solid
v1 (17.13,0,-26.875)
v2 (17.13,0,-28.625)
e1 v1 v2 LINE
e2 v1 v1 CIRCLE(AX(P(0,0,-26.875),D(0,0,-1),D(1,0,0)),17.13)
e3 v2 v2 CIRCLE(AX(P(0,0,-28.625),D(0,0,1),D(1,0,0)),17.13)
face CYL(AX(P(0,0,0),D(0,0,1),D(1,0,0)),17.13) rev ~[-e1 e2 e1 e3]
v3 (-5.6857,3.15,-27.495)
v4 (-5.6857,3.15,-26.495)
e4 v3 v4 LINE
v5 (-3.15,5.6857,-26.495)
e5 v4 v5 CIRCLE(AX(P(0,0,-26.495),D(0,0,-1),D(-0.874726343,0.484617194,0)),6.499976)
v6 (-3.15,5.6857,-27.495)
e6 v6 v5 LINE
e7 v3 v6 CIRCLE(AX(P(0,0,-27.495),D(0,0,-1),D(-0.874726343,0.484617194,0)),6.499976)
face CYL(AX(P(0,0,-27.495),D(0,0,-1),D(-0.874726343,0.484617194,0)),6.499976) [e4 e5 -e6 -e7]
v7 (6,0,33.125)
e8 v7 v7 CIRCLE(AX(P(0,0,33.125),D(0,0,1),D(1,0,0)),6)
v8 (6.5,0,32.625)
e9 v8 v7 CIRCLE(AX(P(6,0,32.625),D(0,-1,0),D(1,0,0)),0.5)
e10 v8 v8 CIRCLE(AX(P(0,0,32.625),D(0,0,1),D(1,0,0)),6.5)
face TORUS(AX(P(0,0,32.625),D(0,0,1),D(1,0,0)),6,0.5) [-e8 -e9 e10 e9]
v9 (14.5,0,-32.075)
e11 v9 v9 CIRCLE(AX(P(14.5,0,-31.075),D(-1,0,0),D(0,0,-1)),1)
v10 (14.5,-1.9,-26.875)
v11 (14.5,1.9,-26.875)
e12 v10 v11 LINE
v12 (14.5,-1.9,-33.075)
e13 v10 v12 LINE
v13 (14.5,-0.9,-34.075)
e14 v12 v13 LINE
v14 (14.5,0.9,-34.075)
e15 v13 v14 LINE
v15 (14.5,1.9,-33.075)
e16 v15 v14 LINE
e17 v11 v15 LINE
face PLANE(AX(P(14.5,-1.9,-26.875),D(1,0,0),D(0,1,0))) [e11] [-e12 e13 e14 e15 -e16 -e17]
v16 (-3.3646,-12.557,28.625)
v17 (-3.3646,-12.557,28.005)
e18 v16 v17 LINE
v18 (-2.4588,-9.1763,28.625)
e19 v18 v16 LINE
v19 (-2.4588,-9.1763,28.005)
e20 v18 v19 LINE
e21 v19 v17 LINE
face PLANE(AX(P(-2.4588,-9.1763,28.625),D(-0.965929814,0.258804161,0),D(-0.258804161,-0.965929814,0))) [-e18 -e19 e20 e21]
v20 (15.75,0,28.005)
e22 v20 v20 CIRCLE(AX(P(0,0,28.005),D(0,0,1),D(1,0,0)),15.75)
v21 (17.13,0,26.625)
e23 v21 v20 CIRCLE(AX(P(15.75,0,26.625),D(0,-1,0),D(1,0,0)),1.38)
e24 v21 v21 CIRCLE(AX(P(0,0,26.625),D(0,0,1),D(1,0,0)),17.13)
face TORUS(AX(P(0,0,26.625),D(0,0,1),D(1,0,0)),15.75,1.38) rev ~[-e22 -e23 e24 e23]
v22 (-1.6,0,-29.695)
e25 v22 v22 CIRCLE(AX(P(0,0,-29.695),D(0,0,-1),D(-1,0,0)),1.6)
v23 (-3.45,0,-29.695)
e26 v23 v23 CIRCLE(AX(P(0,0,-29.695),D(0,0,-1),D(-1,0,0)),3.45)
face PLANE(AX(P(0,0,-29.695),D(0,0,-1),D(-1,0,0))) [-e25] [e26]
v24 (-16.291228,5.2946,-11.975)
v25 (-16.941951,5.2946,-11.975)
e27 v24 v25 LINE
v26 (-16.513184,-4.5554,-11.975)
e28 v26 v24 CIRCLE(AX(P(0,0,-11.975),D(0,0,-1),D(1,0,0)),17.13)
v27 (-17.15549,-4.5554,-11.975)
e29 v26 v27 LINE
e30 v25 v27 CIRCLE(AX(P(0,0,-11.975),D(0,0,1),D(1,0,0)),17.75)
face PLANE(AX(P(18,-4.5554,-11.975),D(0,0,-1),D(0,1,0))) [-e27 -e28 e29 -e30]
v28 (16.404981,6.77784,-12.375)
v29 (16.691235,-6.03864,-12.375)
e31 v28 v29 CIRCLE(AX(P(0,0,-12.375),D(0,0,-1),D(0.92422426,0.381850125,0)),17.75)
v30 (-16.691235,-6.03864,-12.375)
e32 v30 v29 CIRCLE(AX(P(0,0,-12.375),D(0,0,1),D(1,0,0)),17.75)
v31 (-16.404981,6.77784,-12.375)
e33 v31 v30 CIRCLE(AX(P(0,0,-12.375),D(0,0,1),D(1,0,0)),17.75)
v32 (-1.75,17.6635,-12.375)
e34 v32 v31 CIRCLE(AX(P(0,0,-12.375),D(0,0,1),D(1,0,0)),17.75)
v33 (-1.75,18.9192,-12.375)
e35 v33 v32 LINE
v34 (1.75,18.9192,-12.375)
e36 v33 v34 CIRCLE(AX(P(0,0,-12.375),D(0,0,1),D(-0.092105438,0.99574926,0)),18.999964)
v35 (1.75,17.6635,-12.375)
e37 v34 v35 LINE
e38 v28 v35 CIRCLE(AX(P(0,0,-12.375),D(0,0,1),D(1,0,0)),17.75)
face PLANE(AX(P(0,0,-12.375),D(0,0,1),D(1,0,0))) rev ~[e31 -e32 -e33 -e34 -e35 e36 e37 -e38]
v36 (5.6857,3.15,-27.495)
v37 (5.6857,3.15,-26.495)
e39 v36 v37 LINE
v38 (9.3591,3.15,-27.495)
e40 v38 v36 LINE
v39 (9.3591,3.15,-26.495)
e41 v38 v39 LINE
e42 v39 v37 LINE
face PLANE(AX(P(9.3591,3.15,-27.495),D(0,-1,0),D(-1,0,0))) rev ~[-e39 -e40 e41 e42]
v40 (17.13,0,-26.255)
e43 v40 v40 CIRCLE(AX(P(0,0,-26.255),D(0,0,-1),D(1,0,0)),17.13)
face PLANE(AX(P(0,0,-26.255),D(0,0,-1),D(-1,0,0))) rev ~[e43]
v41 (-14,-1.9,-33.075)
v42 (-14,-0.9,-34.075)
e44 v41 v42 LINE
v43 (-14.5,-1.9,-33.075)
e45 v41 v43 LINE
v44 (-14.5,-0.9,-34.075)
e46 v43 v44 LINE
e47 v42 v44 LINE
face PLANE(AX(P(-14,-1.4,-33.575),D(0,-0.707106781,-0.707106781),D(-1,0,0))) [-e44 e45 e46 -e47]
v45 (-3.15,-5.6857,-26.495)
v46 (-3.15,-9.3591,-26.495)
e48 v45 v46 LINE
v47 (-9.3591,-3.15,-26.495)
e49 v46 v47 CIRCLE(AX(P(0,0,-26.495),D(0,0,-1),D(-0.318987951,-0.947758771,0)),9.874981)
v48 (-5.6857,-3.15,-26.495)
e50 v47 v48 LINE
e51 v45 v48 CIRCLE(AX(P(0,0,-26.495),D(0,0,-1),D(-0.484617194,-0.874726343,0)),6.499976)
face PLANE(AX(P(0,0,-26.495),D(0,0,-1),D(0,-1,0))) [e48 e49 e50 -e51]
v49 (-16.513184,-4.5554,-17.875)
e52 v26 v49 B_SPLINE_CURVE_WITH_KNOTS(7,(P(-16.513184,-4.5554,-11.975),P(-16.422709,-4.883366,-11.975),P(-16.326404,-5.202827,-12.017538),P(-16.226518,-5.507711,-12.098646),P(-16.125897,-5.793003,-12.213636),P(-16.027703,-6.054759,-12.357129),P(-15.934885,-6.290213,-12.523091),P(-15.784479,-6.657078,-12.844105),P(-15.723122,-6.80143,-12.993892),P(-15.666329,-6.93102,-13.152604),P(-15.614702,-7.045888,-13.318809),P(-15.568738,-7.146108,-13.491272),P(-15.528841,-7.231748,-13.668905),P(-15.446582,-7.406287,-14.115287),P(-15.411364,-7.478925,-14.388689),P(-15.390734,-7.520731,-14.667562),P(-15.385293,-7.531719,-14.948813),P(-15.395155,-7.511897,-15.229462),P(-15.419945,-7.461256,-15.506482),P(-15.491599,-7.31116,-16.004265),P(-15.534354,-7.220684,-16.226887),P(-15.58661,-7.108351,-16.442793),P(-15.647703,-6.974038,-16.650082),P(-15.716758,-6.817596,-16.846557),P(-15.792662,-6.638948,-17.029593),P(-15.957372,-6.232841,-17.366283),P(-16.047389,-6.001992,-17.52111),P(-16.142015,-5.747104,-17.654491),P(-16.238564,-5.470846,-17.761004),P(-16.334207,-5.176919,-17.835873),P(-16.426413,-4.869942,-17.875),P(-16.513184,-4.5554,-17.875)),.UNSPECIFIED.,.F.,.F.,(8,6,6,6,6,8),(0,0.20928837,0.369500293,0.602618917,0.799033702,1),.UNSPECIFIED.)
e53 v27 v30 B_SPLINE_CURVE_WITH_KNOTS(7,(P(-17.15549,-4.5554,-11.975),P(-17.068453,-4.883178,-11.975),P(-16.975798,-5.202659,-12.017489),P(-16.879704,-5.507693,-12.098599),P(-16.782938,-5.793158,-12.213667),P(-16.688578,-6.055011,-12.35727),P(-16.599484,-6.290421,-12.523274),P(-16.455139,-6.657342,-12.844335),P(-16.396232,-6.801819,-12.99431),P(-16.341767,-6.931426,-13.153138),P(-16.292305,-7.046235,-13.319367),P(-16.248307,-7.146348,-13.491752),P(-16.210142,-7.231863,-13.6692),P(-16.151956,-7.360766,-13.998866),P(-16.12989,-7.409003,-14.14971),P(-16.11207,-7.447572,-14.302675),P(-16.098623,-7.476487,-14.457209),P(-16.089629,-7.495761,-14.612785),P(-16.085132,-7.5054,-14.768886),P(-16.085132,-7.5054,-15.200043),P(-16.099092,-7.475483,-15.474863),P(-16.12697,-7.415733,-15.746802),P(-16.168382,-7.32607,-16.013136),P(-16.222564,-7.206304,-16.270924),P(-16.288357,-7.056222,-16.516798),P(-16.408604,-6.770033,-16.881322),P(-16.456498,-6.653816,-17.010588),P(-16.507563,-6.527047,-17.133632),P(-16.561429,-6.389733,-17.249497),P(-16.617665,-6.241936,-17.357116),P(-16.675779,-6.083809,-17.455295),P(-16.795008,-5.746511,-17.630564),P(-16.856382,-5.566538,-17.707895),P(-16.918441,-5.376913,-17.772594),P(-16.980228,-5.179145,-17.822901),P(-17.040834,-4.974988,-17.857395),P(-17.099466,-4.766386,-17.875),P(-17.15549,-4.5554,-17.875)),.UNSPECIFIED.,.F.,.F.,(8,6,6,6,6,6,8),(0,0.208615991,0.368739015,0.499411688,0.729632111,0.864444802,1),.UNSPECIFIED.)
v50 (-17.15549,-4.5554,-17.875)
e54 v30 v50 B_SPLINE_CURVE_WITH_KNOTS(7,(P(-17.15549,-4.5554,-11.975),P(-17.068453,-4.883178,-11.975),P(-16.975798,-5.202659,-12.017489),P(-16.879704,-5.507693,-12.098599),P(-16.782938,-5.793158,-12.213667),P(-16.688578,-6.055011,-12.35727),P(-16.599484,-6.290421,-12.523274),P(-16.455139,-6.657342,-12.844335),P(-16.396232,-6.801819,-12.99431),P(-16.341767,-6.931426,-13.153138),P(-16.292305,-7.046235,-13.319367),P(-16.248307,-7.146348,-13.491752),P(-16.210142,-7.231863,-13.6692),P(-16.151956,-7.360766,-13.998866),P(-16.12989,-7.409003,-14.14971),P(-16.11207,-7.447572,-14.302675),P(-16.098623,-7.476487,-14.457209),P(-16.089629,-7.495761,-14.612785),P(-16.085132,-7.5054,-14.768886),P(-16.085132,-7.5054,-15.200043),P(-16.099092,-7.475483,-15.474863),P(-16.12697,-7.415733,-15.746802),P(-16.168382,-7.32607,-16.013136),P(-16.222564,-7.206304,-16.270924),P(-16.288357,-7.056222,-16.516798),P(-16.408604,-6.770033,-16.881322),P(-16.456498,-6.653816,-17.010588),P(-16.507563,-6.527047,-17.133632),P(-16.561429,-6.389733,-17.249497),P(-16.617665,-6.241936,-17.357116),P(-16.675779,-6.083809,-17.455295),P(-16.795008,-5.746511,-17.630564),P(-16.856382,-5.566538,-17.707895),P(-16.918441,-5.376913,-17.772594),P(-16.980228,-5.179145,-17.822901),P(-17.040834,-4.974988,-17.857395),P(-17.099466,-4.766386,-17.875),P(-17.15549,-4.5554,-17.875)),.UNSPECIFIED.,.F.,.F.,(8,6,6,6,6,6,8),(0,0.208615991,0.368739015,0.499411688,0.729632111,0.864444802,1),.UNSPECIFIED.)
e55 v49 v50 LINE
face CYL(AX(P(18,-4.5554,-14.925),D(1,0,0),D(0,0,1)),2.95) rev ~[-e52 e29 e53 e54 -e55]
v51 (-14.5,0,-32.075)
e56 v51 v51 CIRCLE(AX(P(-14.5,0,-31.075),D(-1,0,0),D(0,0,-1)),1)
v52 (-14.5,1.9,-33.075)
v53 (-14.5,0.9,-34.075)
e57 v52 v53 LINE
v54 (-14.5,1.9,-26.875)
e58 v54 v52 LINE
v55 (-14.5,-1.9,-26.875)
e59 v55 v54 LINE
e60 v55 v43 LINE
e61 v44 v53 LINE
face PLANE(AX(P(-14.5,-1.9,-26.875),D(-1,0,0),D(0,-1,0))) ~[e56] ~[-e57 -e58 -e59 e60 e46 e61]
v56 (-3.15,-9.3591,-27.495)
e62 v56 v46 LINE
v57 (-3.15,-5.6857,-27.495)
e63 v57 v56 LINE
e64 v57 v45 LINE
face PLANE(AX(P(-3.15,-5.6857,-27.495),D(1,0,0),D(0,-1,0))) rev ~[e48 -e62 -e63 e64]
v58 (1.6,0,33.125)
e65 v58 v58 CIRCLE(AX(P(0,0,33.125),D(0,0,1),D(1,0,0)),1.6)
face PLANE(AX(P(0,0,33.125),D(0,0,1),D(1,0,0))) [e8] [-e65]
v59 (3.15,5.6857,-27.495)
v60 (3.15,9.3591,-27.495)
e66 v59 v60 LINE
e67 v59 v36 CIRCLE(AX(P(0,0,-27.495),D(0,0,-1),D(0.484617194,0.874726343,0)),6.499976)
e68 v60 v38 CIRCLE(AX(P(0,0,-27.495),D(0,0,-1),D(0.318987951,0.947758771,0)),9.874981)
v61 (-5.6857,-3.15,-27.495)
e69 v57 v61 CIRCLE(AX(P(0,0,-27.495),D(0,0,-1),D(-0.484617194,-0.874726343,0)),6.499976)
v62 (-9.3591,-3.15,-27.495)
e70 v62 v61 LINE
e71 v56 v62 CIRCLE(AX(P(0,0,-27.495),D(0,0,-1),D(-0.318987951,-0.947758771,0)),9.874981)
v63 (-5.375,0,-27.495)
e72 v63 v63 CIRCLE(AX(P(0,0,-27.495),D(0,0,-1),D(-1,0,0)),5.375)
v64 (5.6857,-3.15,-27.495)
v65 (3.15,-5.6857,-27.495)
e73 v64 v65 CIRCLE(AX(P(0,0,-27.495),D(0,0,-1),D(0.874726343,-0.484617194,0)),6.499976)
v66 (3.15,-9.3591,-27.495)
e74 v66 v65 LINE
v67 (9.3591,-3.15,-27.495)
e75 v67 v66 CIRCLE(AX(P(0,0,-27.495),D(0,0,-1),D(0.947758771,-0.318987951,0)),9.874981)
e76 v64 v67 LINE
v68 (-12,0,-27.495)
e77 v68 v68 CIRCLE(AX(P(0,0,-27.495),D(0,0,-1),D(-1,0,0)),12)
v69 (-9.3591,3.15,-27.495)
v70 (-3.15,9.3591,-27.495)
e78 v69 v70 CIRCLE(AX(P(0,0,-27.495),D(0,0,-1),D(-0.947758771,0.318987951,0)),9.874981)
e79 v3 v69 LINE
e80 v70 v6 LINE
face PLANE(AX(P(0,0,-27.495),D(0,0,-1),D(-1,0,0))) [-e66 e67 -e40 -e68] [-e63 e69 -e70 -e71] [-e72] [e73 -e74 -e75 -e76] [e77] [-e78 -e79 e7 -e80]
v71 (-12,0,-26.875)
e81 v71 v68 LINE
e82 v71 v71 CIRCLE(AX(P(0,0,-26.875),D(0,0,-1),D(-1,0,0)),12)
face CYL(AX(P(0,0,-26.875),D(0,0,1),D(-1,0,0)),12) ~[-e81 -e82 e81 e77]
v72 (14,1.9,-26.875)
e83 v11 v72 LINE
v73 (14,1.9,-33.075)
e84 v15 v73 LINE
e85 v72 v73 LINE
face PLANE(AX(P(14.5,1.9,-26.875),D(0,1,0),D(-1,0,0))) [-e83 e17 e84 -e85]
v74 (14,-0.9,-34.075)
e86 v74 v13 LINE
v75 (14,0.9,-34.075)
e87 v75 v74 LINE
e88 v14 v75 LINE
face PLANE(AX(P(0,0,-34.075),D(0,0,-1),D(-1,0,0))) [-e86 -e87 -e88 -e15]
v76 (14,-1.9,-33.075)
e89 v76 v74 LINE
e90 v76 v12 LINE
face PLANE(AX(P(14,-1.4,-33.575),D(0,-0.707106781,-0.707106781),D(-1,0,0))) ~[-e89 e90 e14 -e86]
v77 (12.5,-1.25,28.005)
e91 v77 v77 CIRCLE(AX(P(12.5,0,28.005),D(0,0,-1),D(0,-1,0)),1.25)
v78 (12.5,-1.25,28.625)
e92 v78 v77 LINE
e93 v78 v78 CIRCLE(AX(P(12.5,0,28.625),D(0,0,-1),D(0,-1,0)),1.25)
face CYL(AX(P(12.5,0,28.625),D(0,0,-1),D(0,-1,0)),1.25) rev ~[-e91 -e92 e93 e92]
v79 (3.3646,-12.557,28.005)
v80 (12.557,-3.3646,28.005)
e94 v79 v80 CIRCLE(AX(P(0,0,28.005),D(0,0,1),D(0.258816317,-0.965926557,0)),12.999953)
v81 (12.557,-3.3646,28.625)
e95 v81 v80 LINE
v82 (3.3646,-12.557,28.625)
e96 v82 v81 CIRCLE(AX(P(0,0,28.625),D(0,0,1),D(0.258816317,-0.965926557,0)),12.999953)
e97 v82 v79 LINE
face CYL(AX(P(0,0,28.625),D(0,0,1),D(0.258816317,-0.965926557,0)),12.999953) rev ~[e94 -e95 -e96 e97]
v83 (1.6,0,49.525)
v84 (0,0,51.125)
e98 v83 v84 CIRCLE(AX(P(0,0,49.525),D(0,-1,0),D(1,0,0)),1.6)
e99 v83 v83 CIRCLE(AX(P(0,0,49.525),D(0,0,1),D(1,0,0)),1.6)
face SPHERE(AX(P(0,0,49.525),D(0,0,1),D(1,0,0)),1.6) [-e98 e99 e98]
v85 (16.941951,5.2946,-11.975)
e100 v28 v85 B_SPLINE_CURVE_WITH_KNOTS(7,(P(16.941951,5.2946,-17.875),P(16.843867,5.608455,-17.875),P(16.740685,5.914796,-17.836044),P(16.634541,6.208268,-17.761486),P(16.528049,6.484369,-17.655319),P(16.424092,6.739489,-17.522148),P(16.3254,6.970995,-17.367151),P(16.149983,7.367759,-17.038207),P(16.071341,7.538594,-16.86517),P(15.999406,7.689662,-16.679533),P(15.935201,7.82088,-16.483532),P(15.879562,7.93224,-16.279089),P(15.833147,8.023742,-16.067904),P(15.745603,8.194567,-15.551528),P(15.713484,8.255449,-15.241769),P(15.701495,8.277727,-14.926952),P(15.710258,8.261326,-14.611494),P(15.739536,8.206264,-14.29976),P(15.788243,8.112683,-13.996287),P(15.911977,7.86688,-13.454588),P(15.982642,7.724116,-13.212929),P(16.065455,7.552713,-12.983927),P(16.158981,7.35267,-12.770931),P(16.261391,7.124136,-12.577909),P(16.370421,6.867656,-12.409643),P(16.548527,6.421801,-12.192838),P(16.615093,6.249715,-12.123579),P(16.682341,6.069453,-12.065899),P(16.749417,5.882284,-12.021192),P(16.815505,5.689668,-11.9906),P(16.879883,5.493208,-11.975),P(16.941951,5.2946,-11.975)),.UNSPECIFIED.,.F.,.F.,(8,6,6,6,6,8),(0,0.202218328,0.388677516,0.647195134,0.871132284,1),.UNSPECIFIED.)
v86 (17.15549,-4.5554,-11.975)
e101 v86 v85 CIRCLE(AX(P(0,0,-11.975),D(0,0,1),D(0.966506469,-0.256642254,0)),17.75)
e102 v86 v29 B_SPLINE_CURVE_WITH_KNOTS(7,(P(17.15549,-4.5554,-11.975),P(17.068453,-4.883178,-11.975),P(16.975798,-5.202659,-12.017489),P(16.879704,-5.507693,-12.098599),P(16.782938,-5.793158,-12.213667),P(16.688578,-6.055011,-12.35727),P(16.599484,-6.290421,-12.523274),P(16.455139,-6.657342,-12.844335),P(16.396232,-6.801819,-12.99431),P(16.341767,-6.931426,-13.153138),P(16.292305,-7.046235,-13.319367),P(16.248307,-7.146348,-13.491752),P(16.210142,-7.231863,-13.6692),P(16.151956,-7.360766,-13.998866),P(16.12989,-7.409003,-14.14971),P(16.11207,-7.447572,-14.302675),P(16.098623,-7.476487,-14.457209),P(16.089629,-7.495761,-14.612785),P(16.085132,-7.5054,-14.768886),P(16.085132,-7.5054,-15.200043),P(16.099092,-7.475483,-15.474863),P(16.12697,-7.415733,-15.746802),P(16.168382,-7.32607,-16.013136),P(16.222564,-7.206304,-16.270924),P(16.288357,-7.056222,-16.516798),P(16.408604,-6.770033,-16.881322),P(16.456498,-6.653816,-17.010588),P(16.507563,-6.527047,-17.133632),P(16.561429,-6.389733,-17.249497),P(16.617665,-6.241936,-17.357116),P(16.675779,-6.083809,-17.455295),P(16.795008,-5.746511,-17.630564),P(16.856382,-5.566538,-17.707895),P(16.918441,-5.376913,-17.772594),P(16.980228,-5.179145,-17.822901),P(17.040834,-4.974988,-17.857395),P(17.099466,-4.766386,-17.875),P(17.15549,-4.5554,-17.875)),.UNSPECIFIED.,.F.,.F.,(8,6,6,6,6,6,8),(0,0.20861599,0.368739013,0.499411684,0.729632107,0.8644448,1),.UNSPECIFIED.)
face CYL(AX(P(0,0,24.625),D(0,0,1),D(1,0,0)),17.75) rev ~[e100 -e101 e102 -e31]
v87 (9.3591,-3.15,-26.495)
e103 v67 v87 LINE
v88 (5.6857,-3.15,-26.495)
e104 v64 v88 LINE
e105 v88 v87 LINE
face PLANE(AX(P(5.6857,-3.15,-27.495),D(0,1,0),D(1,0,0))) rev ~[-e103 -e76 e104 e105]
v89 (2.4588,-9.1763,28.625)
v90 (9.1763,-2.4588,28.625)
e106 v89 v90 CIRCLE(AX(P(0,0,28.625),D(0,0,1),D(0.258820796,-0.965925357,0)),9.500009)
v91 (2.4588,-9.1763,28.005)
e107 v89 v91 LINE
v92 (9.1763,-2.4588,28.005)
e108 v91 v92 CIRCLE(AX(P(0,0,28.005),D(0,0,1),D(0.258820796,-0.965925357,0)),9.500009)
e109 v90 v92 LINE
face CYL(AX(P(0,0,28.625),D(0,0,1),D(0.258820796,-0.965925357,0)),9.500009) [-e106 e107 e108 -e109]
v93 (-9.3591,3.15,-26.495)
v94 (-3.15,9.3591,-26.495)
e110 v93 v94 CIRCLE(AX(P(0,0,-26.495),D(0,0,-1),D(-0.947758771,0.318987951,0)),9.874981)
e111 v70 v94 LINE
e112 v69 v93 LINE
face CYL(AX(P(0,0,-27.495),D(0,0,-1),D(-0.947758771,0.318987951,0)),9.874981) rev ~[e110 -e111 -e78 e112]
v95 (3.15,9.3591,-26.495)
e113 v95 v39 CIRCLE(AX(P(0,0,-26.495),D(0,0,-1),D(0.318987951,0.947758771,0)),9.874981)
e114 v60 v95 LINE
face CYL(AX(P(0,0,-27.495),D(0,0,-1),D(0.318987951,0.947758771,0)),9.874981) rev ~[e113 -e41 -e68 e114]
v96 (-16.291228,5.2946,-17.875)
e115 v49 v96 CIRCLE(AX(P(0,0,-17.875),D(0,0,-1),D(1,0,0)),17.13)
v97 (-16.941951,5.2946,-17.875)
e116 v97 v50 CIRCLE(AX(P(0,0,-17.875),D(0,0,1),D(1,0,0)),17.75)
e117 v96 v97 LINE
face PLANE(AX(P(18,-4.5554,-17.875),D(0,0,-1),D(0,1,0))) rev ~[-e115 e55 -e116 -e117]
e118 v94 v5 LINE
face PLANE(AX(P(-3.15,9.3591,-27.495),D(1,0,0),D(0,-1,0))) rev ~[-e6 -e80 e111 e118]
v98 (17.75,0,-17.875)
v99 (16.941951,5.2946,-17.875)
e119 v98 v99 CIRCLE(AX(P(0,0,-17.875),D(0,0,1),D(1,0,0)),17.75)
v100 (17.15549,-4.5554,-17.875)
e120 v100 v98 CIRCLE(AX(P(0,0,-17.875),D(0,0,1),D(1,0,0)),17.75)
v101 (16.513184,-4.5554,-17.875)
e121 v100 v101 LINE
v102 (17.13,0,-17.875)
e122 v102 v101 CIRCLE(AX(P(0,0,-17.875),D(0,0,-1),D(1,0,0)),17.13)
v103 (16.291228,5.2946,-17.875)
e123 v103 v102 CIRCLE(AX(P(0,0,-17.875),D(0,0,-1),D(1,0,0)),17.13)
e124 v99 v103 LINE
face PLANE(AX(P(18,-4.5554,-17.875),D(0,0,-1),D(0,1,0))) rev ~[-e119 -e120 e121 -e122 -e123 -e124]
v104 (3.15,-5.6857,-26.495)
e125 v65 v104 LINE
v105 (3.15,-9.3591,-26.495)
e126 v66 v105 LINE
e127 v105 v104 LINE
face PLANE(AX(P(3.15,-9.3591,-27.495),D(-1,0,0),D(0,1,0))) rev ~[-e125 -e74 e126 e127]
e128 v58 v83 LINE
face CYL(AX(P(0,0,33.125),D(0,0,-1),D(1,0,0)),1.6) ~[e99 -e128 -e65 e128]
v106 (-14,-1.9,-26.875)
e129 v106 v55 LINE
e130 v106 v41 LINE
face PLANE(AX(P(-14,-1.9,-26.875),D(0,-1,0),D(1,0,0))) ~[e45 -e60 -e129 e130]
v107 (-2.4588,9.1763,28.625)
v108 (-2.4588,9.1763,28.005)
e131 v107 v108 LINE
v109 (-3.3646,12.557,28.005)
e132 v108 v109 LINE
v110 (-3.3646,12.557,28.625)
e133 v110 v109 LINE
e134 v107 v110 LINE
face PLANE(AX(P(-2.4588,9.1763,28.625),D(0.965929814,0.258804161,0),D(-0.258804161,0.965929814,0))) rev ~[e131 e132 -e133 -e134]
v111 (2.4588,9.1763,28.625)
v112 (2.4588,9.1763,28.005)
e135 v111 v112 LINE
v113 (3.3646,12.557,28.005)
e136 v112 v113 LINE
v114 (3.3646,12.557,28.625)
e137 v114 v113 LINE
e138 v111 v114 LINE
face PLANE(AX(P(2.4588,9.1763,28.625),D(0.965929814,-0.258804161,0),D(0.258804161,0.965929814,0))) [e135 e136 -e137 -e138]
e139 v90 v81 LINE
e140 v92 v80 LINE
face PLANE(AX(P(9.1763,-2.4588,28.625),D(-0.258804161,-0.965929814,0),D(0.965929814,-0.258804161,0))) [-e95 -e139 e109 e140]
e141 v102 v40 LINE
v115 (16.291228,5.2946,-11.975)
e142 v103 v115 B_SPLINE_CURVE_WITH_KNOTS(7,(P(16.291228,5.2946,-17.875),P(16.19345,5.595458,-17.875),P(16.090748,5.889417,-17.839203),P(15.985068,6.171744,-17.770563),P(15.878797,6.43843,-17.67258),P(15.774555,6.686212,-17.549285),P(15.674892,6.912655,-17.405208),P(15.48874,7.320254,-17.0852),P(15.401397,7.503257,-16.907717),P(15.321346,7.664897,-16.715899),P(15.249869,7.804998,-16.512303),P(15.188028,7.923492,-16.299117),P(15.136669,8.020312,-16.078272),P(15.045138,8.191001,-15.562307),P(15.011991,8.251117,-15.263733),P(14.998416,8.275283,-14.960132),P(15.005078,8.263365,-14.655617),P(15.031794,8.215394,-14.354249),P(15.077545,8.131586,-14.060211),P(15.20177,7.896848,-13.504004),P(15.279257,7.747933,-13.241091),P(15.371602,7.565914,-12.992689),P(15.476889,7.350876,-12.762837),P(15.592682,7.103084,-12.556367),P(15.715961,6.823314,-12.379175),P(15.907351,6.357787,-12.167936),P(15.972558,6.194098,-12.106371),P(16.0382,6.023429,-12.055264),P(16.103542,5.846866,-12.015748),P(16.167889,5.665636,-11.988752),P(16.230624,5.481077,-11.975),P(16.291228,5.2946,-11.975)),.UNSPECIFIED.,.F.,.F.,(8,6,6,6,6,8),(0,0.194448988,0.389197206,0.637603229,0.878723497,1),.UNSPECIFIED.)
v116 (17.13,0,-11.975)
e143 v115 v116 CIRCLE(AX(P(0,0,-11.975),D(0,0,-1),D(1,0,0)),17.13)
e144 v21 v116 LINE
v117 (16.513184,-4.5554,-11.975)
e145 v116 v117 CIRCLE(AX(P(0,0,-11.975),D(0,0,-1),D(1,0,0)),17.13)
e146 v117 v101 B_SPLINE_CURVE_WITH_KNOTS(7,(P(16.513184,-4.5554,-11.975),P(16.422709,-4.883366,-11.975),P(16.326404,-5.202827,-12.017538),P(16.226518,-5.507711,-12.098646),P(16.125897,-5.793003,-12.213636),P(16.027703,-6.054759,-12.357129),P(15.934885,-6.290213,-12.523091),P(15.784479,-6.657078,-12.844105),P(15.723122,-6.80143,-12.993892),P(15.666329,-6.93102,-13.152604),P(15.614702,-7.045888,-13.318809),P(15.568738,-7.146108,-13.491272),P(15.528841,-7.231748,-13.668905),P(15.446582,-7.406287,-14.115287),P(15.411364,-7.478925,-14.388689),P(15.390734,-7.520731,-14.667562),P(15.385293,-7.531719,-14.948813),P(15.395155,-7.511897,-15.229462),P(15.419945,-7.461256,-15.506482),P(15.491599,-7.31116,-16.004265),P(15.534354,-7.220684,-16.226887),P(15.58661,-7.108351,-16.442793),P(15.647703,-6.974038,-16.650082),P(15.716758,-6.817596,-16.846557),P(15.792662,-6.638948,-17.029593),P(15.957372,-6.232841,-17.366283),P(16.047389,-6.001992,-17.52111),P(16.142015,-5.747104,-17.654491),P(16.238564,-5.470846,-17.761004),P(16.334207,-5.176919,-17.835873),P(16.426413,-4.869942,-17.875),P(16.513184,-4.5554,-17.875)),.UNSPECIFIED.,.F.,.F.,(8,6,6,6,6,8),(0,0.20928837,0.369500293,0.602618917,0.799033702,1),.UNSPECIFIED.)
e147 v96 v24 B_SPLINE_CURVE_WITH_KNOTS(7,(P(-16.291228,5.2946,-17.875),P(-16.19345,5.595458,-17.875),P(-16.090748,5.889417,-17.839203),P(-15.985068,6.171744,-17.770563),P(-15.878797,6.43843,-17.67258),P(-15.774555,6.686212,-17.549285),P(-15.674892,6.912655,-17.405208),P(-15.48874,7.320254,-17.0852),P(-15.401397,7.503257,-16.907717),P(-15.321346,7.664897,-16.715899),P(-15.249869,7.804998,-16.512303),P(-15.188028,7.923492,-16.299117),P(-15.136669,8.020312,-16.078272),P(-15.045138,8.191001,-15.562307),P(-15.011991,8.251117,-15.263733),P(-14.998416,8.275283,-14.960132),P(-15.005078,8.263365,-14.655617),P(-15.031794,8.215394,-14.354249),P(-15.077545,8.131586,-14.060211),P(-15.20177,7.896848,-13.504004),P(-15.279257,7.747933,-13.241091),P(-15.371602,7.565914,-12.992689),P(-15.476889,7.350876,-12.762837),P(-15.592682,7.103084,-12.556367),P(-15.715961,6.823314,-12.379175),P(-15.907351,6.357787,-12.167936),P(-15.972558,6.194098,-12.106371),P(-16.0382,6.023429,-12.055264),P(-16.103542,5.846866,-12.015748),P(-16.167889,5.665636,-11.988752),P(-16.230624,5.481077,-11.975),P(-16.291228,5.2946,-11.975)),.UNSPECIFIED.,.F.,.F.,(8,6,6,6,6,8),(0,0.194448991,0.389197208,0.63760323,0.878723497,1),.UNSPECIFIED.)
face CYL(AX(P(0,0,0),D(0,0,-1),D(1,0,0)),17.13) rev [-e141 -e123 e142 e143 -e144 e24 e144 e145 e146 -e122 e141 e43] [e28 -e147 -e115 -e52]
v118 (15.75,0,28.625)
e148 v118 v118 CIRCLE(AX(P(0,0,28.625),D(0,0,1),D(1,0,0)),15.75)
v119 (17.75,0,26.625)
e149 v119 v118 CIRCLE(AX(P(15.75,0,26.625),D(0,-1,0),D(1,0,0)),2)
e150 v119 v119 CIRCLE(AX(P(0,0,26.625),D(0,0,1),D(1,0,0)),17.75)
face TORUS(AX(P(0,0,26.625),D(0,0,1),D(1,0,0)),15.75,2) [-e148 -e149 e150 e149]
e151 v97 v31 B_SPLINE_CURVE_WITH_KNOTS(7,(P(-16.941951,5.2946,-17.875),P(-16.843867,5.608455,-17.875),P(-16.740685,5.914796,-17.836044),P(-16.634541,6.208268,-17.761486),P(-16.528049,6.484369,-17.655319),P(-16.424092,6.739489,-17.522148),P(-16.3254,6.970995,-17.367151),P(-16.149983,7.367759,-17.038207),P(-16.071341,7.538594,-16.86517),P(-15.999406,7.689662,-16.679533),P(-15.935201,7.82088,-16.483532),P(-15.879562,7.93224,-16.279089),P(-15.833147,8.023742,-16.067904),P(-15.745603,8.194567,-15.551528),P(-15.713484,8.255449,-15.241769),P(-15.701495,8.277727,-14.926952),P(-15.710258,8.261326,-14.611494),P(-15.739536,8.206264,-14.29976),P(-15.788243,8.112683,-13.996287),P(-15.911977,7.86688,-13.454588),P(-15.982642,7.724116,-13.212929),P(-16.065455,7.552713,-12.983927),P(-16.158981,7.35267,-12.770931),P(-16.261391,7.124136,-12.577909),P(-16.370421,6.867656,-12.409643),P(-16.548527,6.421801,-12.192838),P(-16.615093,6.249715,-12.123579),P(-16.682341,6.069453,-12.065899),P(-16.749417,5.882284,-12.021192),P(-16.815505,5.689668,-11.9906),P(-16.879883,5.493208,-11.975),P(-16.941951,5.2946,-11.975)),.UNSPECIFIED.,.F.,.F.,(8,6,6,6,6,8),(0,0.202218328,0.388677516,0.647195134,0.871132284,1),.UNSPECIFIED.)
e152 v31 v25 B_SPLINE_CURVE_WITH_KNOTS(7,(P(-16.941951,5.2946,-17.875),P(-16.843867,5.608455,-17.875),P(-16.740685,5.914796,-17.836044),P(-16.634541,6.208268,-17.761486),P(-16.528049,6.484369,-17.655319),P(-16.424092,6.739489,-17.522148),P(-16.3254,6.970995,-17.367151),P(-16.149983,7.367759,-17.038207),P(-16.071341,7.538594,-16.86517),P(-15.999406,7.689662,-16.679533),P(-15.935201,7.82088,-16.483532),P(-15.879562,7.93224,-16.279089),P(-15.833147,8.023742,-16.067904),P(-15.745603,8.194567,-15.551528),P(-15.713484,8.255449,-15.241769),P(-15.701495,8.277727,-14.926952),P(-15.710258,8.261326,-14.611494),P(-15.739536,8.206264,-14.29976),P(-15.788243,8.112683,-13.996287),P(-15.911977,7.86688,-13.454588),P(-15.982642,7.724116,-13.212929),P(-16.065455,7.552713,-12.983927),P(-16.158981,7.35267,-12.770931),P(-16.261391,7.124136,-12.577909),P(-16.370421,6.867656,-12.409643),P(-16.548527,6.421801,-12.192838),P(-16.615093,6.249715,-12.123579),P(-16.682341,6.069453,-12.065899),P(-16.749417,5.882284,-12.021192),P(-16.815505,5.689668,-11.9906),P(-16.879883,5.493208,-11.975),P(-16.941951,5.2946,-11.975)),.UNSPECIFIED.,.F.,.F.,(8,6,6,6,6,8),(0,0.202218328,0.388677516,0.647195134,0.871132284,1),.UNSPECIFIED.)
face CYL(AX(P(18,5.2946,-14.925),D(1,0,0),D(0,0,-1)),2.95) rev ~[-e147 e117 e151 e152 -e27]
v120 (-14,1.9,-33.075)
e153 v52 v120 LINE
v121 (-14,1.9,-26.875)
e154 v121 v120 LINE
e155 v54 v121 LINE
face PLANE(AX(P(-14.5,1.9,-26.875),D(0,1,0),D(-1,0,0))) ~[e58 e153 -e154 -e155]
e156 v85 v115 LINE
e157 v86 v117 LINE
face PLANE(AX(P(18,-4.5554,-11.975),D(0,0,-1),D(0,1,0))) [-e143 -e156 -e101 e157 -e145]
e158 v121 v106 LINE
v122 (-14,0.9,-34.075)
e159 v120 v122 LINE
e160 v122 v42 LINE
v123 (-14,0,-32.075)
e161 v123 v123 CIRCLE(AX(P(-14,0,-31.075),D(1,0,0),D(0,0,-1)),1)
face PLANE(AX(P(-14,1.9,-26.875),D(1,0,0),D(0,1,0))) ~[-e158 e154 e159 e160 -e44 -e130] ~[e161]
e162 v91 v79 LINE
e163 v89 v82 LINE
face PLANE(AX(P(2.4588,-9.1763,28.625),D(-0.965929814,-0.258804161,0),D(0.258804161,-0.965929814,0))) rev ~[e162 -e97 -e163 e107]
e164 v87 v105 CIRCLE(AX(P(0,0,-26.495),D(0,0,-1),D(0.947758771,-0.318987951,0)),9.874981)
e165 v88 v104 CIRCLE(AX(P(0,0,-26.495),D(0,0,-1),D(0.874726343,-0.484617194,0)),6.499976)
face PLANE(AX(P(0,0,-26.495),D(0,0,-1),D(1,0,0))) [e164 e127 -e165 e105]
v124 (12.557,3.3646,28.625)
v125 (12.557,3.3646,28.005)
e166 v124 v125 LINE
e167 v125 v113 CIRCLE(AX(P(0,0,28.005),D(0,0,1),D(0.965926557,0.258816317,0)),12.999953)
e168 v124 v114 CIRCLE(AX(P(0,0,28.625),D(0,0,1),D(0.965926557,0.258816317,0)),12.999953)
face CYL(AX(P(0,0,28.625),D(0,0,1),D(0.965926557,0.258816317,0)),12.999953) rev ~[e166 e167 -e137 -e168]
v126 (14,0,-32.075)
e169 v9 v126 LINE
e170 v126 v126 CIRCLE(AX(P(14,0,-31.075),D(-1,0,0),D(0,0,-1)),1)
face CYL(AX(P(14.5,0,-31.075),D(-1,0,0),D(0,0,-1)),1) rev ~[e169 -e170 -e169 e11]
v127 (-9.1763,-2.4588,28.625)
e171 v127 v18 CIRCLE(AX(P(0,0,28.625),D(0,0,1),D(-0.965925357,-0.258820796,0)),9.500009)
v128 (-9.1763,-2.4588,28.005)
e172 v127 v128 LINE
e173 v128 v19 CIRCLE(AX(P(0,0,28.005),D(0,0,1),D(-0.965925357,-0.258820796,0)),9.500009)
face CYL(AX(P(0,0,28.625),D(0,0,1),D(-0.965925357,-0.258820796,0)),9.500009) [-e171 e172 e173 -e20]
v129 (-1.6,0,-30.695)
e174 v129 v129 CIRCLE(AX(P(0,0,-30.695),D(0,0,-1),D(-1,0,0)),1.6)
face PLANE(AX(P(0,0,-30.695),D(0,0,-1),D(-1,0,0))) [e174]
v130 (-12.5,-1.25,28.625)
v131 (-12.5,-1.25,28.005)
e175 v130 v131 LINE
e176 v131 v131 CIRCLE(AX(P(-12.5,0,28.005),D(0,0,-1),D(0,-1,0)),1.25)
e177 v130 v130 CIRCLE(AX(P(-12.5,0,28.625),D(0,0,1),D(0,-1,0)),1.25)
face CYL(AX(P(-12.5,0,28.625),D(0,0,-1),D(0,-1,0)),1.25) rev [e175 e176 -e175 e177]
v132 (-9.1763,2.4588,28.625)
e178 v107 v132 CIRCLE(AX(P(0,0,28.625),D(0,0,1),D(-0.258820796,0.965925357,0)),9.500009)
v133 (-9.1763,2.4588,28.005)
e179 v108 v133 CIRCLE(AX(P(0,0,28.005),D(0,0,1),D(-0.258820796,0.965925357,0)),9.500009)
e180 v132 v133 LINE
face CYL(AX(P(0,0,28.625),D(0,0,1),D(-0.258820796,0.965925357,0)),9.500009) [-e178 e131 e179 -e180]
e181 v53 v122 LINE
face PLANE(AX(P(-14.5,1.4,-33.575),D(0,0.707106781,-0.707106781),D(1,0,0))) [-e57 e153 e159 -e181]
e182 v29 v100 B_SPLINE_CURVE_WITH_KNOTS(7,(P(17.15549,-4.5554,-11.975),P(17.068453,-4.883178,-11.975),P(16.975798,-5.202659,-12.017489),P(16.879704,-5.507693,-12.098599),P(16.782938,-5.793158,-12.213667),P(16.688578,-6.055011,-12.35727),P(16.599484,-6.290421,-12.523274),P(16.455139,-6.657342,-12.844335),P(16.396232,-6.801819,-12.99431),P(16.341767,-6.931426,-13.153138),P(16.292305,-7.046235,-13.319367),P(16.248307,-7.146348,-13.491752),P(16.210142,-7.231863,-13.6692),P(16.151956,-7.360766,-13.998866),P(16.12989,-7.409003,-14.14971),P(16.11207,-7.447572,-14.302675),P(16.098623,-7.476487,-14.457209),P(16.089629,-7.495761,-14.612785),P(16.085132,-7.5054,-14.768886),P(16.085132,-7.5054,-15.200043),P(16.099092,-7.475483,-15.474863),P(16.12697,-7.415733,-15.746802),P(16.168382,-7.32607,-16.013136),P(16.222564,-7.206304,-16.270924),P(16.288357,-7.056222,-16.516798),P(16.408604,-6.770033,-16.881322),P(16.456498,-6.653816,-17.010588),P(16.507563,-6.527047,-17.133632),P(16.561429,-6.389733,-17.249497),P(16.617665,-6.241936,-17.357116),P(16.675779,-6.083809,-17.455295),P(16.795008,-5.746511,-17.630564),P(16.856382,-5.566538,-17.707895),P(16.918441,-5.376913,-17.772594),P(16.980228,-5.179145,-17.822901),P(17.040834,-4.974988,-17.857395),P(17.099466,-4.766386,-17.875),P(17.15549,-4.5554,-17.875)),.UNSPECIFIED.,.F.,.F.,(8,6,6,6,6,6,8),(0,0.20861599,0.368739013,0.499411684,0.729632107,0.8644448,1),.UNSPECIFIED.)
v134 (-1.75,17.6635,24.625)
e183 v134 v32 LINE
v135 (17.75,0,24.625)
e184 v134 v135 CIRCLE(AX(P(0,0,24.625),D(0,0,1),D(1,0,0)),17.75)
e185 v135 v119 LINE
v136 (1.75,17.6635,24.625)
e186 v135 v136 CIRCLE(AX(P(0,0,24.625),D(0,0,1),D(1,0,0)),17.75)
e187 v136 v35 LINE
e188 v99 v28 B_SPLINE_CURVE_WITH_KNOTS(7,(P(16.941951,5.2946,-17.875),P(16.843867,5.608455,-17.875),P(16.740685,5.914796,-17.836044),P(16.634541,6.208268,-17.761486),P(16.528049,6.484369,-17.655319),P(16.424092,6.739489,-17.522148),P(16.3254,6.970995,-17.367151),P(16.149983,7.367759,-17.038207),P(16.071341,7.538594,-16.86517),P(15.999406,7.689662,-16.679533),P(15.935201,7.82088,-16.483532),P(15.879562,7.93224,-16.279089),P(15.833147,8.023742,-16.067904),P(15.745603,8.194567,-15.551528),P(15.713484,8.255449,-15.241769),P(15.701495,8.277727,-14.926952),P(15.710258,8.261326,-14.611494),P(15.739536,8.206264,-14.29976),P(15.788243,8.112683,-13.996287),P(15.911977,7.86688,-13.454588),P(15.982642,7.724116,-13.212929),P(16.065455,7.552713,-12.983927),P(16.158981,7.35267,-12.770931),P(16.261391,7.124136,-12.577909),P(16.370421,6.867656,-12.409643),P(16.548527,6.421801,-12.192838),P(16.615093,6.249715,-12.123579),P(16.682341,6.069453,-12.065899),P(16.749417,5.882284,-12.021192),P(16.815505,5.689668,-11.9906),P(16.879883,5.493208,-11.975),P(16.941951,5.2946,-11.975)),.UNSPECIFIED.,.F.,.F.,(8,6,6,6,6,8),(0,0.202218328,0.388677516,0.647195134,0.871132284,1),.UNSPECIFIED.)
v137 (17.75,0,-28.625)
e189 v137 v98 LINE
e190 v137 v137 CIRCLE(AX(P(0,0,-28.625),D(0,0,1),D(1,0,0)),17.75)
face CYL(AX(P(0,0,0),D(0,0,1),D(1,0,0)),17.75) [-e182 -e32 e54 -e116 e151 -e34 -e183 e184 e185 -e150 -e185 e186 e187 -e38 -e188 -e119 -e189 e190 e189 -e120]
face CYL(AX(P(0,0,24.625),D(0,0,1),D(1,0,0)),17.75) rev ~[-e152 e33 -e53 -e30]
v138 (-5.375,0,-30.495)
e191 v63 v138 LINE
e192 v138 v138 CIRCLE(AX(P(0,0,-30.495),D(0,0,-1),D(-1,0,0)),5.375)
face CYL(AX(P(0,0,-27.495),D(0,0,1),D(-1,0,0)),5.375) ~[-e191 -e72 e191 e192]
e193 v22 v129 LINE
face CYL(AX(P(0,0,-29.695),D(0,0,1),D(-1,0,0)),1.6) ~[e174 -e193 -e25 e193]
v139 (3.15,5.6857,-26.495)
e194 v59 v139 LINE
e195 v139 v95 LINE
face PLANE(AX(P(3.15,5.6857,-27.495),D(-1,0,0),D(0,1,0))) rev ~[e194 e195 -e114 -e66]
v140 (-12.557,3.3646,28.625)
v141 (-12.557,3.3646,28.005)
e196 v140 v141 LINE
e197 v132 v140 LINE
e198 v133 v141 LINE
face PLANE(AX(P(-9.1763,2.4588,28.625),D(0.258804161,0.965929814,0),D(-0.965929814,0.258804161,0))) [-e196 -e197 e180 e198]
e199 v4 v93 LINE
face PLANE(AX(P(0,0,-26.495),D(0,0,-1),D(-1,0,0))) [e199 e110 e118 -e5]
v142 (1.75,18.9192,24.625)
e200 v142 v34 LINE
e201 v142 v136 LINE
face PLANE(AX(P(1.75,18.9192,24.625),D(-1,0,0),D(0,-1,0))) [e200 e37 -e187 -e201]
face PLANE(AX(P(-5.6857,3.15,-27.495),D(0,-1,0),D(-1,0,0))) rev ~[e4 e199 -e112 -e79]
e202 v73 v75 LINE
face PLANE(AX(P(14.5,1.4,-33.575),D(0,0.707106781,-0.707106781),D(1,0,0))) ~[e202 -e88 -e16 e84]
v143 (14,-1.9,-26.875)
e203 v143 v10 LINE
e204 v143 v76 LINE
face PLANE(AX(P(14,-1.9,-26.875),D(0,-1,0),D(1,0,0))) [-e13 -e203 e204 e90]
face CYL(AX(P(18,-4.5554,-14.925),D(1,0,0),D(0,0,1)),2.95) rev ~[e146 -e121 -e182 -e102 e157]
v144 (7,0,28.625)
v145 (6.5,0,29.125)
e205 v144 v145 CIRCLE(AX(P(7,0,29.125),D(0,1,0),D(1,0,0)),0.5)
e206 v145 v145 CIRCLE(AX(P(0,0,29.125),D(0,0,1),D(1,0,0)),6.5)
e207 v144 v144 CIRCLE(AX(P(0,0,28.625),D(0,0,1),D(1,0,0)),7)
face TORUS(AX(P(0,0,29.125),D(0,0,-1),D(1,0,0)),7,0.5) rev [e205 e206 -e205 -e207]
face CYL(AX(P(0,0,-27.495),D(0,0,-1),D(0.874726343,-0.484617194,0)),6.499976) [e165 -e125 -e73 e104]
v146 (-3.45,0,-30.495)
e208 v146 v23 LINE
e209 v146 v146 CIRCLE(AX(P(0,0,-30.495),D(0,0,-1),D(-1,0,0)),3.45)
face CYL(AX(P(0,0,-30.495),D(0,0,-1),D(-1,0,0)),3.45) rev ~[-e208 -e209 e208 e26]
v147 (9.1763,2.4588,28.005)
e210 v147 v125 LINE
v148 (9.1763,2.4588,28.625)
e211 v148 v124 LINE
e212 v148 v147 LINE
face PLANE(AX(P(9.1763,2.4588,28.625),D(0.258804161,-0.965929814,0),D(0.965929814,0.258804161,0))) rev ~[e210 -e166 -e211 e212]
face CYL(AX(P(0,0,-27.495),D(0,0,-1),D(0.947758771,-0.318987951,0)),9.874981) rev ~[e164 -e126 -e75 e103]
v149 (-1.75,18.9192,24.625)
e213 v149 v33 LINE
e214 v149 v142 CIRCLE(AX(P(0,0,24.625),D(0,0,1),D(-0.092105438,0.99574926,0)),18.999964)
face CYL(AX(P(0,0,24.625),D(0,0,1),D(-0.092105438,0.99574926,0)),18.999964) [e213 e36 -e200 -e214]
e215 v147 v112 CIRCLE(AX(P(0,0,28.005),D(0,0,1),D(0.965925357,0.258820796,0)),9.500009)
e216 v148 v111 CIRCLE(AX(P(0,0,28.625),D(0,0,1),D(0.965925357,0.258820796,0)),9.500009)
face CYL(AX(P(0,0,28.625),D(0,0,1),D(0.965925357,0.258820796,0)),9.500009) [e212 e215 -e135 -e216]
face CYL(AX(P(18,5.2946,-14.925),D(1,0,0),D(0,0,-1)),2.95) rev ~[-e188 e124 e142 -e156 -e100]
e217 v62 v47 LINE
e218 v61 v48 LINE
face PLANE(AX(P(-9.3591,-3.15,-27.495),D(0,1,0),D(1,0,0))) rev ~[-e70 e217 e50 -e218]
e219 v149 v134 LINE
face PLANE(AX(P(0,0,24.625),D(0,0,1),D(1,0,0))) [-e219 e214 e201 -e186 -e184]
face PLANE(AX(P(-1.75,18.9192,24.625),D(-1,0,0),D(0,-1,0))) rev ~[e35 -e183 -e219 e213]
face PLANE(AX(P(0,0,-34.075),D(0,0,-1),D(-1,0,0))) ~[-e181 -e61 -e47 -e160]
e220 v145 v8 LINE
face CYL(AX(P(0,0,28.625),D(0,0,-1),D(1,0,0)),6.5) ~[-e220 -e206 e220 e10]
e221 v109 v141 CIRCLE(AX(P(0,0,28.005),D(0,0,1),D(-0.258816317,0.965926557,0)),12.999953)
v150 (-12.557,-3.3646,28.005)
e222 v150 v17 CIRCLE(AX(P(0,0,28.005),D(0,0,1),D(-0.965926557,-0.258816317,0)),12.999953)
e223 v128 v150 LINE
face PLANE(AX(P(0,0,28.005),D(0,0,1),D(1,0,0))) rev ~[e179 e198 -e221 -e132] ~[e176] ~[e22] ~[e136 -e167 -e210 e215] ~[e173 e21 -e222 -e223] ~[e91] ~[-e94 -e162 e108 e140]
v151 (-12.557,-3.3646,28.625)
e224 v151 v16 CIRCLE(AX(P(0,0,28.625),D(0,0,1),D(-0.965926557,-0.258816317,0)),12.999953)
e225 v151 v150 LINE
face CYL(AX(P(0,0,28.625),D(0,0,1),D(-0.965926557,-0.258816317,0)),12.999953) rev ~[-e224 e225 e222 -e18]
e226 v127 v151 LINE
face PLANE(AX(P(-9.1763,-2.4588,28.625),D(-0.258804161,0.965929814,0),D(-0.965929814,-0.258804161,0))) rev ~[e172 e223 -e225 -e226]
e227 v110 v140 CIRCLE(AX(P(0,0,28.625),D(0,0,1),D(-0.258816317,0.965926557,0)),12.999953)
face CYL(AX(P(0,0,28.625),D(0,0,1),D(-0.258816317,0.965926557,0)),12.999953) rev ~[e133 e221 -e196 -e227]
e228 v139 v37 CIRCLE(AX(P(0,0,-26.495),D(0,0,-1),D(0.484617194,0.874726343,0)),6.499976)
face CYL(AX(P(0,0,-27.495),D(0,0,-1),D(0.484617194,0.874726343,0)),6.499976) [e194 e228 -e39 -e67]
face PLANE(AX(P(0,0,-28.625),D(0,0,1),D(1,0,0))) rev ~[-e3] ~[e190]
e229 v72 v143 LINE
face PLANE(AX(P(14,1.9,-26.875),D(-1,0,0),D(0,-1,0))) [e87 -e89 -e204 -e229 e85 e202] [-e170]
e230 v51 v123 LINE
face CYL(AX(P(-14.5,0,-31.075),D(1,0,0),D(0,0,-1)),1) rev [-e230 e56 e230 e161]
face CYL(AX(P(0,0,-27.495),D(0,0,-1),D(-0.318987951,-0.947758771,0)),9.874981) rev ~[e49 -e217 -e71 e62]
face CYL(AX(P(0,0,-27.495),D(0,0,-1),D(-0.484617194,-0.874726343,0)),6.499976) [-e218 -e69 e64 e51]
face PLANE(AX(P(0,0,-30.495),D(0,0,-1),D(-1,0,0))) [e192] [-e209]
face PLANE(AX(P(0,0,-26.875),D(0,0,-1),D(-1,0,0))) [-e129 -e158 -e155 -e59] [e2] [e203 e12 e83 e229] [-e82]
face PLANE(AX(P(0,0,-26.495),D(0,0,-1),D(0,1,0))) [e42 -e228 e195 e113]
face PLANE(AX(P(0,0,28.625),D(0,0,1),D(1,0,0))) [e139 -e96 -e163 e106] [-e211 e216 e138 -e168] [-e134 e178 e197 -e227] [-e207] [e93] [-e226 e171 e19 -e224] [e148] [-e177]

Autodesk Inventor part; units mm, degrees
sketch "Sketch1" plane through (0, 0, 0) normal (0, 0, 1) x (1, 0, 0)
  circle A0 centre (0, 0) radius 17.75
  dimension "d0" = 35.5
extrude "Extrusion1" add sketch "Sketch1" along normal mid plane 57.25
fillet "Fillet1" radius 2 1 edges at (-17.75, 0, 28.625)
shell "Shell1" thickness 0.62 removed faces 1 at (3.0438, 4.2648, -28.625)
sketch "Sketch2" plane through (0, 0, 28.625) normal (0, 0, 1) x (1, 0, 0)
  circle A0 centre (0, 0) radius 15.75 projected
  circle A1 centre (0, 0) radius 6.5
  dimension "d5" = 13
extrude "Extrusion2" add sketch "Sketch2" along normal blind 4.5 contours A1
fillet "Fillet2" radius 0.5 2 edges at (-6.5, 0, 28.625) (-6.5, 0, 33.125)
sketch "Sketch3" plane through (0, 0, 33.125) normal (0, 0, 1) x (1, 0, 0)
  circle A0 centre (0, 0) radius 6 projected
  circle A1 centre (0, 0) radius 1.6
  dimension "d9" = 3.2
extrude "Extrusion3" add sketch "Sketch3" along normal blind 18 contours A1
fillet "Fillet3" radius 1.6 1 edges at (-1.6, 0, 51.125)
sketch "Sketch4" plane through (0, 0, 28.625) normal (0, 0, 1) x (1, 0, 0)
  circle A0 centre (0, 0) radius 15.75 projected
  point P0 (12.5, 0)
  dimension "d13" = 12.5
hole "Hole1" at (12.5, 0, 28.625) direction (0, 0, -1) diameter 2.5 depth 8 tip angle 118
mirror "Mirror1" about plane through (0, 0, 0) normal (1, 0, 0) of "Hole1"
sketch "Sketch5" plane through (0, 0, 28.625) normal (0, 0, 1) x (1, 0, 0)
  circle A0 centre (12.5, 0) radius 1.25 projected
  circle A1 centre (0, 0) radius 7 projected
  arc A2 (12.557, 3.3646) -> (3.3646, 12.557) centre (0, 0) ccw
  arc A3 (9.1763, 2.4588) -> (2.4588, 9.1763) centre (0, 0) ccw
  line L0 (0, 0) -> (3.3646, 12.557) construction
  line L1 (0, 0) -> (12.557, 3.3646) construction
  line L2 (2.4588, 9.1763) -> (3.3646, 12.557)
  line L3 (9.1763, 2.4588) -> (12.557, 3.3646)
  line L4 (0, 0) -> (12.5, 0) construction
  line L5 (0.151, 0.5634) -> (0.151, 14.7153) construction
  dimension "d21" = 15
  dimension "d22" = 15
  dimension "d23" = 13
  dimension "d24" = 9.5
extrude "Extrusion4" cut sketch "Sketch5" against normal blind 10 contours L3 A3 L2 A2
pattern_circular "Circular Pattern1" count 4 over 360 about axis through (0, 0, 0) along (0, 0, 1) of "Extrusion4"
ref_plane "Work Plane1" through (0, 0, -26.875) normal (0, 0, -1) x (-1, 0, 0)
sketch "Sketch6" plane through (0, 0, -26.875) normal (0, 0, -1) x (-1, 0, 0)
  circle A0 centre (0, 0) radius 17.13 projected
extrude "Extrusion5" add sketch "Sketch6" against normal blind 0.62
sketch "Sketch7" plane through (0, 0, -26.875) normal (0, 0, -1) x (-1, 0, 0)
  circle A0 centre (0, 0) radius 17.13 projected
  circle A1 centre (0, 0) radius 12
  dimension "d33" = 24
extrude "Extrusion6" add sketch "Sketch7" along normal blind 0.62 contours A1
sketch "Sketch8" plane through (0, 0, -27.495) normal (0, 0, -1) x (-1, 0, 0)
  circle A0 centre (0, 0) radius 12 projected
  circle A1 centre (0, 0) radius 5.375
  dimension "d36" = 10.75
extrude "Extrusion7" add sketch "Sketch8" along normal blind 3 contours A1
sketch "Sketch9" plane through (0, 0, -30.495) normal (0, 0, -1) x (-1, 0, 0)
  circle A0 centre (0, 0) radius 5.375 projected
  circle A1 centre (0, 0) radius 3.45
  dimension "d39" = 6.9
extrude "Extrusion8" cut sketch "Sketch9" against normal blind 0.8 contours A1
sketch "Sketch10" plane through (0, 0, -29.695) normal (0, 0, -1) x (-1, 0, 0)
  circle A0 centre (0, 0) radius 3.45 projected
  circle A1 centre (0, 0) radius 1.6
  dimension "d42" = 3.2
extrude "Extrusion9" add sketch "Sketch10" along normal blind 1 contours A1
sketch "Sketch11" plane through (0, 0, -27.495) normal (0, 0, -1) x (-1, 0, 0)
  circle A0 centre (0, 0) radius 5.375 projected
  circle A1 centre (0, 0) radius 12 projected
  arc A2 (9.3591, 3.15) -> (3.15, 9.3591) centre (0, 0) ccw
  arc A3 (5.6857, 3.15) -> (3.15, 5.6857) centre (0, 0) ccw
  line L0 (3.15, 9.3591) -> (3.15, 5.6857)
  line L1 (5.6857, 3.15) -> (9.3591, 3.15)
  dimension "d45" = 3.15
  dimension "d46" = 3.15
  dimension "d47" = 9.875
  dimension "d48" = 6.5
extrude "Extrusion10" cut sketch "Sketch11" against normal blind 1 contours L1 A3 L0 A2
pattern_circular "Circular Pattern2" count 4 over 360 about axis through (0, 0, 0) along (0, 0, 1) of "Extrusion10"
sketch "Sketch12" plane through (0, 0, -26.875) normal (0, 0, -1) x (-1, 0, 0)
  circle A0 centre (0, 0) radius 12 projected
  circle A1 centre (0, 0) radius 17.13 projected
  line L0 (-14.5, 1.9) -> (-14, 1.9)
  line L1 (-14, 1.9) -> (-14, -1.9)
  line L2 (-14, -1.9) -> (-14.5, -1.9)
  line L3 (-14.5, -1.9) -> (-14.5, 1.9)
  line L4 (0, 0) -> (-16.9017, 0) construction
  point P0 (-14, 0)
  dimension "d54" = 0.5
  dimension "d55" = 3.8
  dimension "d56" = 14
extrude "Extrusion11" add sketch "Sketch12" along normal blind 7.2 contours L0 L1 L2 L3
chamfer "Chamfer1" distance 1 angle 45 2 edges at (14.25, 1.9, -34.075) (14.25, -1.9, -34.075)
sketch "Sketch13" plane through (14.5, -1.9, -26.875) normal (1, 0, 0) x (0, 0, -1)
  line L0 (7.2, 1) -> (7.2, 2.8) projected
  line L1 (4.2, 1.9) -> (6.2, 3.8) construction
  line L2 (4.2, 1.9) -> (6.2, 0) construction
  dimension "d61" = 3
hole "Hole2" at (14.5, 0, -31.075) direction (-1, 0, 0) diameter 2 depth 1 tip angle 118
mirror "Mirror2" about plane through (0, 0, 0) normal (1, 0, 0) of "Extrusion11", "Chamfer1", "Hole2"
ref_plane "Work Plane2" through (18, 0, 0) normal (1, 0, 0) x (0, 1, 0)
sketch "Sketch14" plane through (18, 0, 0) normal (1, 0, 0) x (0, 1, 0)
  arc A0 (-4.5554, -11.975) -> (-4.5554, -17.875) centre (-4.5554, -14.925) ccw
  arc A1 (5.2946, -17.875) -> (5.2946, -11.975) centre (5.2946, -14.925) ccw
  line L0 (-4.5554, -11.975) -> (5.2946, -11.975)
  line L1 (-4.5554, -17.875) -> (5.2946, -17.875)
  line L2 (17.75, -28.625) -> (-17.75, -28.625) projected
  line L3 (0, -28.625) -> (0, 20.5314) construction
  dimension "d70" = 10.75
  dimension "d71" = 5.9
  dimension "d72" = 9.85
extrude "Extrusion12" cut sketch "Sketch14" against normal through all
ref_plane "Work Plane3" through (0, 0, 24.625) normal (0, 0, 1) x (1, 0, 0)
sketch "Sketch15" plane through (0, 0, 24.625) normal (0, 0, 1) x (1, 0, 0)
  circle A0 centre (0, 0) radius 17.75 projected
  arc A1 (-1.75, 18.9192) -> (1.75, 18.9192) centre (0, 0) ccw
  line L0 (-1.75, 18.9192) -> (-1.75, 17.6635)
  line L1 (1.75, 18.9192) -> (1.75, 17.6635)
  line L2 (0, 0) -> (0, 21.9354) construction
  dimension "d76" = 38
  dimension "d77" = 3.5
extrude "Extrusion13" add sketch "Sketch15" against normal blind 37 contours A0 L1 A1 L0
properties part number "FisherPriceMotor 550 motor" material "Steel, Mild"
